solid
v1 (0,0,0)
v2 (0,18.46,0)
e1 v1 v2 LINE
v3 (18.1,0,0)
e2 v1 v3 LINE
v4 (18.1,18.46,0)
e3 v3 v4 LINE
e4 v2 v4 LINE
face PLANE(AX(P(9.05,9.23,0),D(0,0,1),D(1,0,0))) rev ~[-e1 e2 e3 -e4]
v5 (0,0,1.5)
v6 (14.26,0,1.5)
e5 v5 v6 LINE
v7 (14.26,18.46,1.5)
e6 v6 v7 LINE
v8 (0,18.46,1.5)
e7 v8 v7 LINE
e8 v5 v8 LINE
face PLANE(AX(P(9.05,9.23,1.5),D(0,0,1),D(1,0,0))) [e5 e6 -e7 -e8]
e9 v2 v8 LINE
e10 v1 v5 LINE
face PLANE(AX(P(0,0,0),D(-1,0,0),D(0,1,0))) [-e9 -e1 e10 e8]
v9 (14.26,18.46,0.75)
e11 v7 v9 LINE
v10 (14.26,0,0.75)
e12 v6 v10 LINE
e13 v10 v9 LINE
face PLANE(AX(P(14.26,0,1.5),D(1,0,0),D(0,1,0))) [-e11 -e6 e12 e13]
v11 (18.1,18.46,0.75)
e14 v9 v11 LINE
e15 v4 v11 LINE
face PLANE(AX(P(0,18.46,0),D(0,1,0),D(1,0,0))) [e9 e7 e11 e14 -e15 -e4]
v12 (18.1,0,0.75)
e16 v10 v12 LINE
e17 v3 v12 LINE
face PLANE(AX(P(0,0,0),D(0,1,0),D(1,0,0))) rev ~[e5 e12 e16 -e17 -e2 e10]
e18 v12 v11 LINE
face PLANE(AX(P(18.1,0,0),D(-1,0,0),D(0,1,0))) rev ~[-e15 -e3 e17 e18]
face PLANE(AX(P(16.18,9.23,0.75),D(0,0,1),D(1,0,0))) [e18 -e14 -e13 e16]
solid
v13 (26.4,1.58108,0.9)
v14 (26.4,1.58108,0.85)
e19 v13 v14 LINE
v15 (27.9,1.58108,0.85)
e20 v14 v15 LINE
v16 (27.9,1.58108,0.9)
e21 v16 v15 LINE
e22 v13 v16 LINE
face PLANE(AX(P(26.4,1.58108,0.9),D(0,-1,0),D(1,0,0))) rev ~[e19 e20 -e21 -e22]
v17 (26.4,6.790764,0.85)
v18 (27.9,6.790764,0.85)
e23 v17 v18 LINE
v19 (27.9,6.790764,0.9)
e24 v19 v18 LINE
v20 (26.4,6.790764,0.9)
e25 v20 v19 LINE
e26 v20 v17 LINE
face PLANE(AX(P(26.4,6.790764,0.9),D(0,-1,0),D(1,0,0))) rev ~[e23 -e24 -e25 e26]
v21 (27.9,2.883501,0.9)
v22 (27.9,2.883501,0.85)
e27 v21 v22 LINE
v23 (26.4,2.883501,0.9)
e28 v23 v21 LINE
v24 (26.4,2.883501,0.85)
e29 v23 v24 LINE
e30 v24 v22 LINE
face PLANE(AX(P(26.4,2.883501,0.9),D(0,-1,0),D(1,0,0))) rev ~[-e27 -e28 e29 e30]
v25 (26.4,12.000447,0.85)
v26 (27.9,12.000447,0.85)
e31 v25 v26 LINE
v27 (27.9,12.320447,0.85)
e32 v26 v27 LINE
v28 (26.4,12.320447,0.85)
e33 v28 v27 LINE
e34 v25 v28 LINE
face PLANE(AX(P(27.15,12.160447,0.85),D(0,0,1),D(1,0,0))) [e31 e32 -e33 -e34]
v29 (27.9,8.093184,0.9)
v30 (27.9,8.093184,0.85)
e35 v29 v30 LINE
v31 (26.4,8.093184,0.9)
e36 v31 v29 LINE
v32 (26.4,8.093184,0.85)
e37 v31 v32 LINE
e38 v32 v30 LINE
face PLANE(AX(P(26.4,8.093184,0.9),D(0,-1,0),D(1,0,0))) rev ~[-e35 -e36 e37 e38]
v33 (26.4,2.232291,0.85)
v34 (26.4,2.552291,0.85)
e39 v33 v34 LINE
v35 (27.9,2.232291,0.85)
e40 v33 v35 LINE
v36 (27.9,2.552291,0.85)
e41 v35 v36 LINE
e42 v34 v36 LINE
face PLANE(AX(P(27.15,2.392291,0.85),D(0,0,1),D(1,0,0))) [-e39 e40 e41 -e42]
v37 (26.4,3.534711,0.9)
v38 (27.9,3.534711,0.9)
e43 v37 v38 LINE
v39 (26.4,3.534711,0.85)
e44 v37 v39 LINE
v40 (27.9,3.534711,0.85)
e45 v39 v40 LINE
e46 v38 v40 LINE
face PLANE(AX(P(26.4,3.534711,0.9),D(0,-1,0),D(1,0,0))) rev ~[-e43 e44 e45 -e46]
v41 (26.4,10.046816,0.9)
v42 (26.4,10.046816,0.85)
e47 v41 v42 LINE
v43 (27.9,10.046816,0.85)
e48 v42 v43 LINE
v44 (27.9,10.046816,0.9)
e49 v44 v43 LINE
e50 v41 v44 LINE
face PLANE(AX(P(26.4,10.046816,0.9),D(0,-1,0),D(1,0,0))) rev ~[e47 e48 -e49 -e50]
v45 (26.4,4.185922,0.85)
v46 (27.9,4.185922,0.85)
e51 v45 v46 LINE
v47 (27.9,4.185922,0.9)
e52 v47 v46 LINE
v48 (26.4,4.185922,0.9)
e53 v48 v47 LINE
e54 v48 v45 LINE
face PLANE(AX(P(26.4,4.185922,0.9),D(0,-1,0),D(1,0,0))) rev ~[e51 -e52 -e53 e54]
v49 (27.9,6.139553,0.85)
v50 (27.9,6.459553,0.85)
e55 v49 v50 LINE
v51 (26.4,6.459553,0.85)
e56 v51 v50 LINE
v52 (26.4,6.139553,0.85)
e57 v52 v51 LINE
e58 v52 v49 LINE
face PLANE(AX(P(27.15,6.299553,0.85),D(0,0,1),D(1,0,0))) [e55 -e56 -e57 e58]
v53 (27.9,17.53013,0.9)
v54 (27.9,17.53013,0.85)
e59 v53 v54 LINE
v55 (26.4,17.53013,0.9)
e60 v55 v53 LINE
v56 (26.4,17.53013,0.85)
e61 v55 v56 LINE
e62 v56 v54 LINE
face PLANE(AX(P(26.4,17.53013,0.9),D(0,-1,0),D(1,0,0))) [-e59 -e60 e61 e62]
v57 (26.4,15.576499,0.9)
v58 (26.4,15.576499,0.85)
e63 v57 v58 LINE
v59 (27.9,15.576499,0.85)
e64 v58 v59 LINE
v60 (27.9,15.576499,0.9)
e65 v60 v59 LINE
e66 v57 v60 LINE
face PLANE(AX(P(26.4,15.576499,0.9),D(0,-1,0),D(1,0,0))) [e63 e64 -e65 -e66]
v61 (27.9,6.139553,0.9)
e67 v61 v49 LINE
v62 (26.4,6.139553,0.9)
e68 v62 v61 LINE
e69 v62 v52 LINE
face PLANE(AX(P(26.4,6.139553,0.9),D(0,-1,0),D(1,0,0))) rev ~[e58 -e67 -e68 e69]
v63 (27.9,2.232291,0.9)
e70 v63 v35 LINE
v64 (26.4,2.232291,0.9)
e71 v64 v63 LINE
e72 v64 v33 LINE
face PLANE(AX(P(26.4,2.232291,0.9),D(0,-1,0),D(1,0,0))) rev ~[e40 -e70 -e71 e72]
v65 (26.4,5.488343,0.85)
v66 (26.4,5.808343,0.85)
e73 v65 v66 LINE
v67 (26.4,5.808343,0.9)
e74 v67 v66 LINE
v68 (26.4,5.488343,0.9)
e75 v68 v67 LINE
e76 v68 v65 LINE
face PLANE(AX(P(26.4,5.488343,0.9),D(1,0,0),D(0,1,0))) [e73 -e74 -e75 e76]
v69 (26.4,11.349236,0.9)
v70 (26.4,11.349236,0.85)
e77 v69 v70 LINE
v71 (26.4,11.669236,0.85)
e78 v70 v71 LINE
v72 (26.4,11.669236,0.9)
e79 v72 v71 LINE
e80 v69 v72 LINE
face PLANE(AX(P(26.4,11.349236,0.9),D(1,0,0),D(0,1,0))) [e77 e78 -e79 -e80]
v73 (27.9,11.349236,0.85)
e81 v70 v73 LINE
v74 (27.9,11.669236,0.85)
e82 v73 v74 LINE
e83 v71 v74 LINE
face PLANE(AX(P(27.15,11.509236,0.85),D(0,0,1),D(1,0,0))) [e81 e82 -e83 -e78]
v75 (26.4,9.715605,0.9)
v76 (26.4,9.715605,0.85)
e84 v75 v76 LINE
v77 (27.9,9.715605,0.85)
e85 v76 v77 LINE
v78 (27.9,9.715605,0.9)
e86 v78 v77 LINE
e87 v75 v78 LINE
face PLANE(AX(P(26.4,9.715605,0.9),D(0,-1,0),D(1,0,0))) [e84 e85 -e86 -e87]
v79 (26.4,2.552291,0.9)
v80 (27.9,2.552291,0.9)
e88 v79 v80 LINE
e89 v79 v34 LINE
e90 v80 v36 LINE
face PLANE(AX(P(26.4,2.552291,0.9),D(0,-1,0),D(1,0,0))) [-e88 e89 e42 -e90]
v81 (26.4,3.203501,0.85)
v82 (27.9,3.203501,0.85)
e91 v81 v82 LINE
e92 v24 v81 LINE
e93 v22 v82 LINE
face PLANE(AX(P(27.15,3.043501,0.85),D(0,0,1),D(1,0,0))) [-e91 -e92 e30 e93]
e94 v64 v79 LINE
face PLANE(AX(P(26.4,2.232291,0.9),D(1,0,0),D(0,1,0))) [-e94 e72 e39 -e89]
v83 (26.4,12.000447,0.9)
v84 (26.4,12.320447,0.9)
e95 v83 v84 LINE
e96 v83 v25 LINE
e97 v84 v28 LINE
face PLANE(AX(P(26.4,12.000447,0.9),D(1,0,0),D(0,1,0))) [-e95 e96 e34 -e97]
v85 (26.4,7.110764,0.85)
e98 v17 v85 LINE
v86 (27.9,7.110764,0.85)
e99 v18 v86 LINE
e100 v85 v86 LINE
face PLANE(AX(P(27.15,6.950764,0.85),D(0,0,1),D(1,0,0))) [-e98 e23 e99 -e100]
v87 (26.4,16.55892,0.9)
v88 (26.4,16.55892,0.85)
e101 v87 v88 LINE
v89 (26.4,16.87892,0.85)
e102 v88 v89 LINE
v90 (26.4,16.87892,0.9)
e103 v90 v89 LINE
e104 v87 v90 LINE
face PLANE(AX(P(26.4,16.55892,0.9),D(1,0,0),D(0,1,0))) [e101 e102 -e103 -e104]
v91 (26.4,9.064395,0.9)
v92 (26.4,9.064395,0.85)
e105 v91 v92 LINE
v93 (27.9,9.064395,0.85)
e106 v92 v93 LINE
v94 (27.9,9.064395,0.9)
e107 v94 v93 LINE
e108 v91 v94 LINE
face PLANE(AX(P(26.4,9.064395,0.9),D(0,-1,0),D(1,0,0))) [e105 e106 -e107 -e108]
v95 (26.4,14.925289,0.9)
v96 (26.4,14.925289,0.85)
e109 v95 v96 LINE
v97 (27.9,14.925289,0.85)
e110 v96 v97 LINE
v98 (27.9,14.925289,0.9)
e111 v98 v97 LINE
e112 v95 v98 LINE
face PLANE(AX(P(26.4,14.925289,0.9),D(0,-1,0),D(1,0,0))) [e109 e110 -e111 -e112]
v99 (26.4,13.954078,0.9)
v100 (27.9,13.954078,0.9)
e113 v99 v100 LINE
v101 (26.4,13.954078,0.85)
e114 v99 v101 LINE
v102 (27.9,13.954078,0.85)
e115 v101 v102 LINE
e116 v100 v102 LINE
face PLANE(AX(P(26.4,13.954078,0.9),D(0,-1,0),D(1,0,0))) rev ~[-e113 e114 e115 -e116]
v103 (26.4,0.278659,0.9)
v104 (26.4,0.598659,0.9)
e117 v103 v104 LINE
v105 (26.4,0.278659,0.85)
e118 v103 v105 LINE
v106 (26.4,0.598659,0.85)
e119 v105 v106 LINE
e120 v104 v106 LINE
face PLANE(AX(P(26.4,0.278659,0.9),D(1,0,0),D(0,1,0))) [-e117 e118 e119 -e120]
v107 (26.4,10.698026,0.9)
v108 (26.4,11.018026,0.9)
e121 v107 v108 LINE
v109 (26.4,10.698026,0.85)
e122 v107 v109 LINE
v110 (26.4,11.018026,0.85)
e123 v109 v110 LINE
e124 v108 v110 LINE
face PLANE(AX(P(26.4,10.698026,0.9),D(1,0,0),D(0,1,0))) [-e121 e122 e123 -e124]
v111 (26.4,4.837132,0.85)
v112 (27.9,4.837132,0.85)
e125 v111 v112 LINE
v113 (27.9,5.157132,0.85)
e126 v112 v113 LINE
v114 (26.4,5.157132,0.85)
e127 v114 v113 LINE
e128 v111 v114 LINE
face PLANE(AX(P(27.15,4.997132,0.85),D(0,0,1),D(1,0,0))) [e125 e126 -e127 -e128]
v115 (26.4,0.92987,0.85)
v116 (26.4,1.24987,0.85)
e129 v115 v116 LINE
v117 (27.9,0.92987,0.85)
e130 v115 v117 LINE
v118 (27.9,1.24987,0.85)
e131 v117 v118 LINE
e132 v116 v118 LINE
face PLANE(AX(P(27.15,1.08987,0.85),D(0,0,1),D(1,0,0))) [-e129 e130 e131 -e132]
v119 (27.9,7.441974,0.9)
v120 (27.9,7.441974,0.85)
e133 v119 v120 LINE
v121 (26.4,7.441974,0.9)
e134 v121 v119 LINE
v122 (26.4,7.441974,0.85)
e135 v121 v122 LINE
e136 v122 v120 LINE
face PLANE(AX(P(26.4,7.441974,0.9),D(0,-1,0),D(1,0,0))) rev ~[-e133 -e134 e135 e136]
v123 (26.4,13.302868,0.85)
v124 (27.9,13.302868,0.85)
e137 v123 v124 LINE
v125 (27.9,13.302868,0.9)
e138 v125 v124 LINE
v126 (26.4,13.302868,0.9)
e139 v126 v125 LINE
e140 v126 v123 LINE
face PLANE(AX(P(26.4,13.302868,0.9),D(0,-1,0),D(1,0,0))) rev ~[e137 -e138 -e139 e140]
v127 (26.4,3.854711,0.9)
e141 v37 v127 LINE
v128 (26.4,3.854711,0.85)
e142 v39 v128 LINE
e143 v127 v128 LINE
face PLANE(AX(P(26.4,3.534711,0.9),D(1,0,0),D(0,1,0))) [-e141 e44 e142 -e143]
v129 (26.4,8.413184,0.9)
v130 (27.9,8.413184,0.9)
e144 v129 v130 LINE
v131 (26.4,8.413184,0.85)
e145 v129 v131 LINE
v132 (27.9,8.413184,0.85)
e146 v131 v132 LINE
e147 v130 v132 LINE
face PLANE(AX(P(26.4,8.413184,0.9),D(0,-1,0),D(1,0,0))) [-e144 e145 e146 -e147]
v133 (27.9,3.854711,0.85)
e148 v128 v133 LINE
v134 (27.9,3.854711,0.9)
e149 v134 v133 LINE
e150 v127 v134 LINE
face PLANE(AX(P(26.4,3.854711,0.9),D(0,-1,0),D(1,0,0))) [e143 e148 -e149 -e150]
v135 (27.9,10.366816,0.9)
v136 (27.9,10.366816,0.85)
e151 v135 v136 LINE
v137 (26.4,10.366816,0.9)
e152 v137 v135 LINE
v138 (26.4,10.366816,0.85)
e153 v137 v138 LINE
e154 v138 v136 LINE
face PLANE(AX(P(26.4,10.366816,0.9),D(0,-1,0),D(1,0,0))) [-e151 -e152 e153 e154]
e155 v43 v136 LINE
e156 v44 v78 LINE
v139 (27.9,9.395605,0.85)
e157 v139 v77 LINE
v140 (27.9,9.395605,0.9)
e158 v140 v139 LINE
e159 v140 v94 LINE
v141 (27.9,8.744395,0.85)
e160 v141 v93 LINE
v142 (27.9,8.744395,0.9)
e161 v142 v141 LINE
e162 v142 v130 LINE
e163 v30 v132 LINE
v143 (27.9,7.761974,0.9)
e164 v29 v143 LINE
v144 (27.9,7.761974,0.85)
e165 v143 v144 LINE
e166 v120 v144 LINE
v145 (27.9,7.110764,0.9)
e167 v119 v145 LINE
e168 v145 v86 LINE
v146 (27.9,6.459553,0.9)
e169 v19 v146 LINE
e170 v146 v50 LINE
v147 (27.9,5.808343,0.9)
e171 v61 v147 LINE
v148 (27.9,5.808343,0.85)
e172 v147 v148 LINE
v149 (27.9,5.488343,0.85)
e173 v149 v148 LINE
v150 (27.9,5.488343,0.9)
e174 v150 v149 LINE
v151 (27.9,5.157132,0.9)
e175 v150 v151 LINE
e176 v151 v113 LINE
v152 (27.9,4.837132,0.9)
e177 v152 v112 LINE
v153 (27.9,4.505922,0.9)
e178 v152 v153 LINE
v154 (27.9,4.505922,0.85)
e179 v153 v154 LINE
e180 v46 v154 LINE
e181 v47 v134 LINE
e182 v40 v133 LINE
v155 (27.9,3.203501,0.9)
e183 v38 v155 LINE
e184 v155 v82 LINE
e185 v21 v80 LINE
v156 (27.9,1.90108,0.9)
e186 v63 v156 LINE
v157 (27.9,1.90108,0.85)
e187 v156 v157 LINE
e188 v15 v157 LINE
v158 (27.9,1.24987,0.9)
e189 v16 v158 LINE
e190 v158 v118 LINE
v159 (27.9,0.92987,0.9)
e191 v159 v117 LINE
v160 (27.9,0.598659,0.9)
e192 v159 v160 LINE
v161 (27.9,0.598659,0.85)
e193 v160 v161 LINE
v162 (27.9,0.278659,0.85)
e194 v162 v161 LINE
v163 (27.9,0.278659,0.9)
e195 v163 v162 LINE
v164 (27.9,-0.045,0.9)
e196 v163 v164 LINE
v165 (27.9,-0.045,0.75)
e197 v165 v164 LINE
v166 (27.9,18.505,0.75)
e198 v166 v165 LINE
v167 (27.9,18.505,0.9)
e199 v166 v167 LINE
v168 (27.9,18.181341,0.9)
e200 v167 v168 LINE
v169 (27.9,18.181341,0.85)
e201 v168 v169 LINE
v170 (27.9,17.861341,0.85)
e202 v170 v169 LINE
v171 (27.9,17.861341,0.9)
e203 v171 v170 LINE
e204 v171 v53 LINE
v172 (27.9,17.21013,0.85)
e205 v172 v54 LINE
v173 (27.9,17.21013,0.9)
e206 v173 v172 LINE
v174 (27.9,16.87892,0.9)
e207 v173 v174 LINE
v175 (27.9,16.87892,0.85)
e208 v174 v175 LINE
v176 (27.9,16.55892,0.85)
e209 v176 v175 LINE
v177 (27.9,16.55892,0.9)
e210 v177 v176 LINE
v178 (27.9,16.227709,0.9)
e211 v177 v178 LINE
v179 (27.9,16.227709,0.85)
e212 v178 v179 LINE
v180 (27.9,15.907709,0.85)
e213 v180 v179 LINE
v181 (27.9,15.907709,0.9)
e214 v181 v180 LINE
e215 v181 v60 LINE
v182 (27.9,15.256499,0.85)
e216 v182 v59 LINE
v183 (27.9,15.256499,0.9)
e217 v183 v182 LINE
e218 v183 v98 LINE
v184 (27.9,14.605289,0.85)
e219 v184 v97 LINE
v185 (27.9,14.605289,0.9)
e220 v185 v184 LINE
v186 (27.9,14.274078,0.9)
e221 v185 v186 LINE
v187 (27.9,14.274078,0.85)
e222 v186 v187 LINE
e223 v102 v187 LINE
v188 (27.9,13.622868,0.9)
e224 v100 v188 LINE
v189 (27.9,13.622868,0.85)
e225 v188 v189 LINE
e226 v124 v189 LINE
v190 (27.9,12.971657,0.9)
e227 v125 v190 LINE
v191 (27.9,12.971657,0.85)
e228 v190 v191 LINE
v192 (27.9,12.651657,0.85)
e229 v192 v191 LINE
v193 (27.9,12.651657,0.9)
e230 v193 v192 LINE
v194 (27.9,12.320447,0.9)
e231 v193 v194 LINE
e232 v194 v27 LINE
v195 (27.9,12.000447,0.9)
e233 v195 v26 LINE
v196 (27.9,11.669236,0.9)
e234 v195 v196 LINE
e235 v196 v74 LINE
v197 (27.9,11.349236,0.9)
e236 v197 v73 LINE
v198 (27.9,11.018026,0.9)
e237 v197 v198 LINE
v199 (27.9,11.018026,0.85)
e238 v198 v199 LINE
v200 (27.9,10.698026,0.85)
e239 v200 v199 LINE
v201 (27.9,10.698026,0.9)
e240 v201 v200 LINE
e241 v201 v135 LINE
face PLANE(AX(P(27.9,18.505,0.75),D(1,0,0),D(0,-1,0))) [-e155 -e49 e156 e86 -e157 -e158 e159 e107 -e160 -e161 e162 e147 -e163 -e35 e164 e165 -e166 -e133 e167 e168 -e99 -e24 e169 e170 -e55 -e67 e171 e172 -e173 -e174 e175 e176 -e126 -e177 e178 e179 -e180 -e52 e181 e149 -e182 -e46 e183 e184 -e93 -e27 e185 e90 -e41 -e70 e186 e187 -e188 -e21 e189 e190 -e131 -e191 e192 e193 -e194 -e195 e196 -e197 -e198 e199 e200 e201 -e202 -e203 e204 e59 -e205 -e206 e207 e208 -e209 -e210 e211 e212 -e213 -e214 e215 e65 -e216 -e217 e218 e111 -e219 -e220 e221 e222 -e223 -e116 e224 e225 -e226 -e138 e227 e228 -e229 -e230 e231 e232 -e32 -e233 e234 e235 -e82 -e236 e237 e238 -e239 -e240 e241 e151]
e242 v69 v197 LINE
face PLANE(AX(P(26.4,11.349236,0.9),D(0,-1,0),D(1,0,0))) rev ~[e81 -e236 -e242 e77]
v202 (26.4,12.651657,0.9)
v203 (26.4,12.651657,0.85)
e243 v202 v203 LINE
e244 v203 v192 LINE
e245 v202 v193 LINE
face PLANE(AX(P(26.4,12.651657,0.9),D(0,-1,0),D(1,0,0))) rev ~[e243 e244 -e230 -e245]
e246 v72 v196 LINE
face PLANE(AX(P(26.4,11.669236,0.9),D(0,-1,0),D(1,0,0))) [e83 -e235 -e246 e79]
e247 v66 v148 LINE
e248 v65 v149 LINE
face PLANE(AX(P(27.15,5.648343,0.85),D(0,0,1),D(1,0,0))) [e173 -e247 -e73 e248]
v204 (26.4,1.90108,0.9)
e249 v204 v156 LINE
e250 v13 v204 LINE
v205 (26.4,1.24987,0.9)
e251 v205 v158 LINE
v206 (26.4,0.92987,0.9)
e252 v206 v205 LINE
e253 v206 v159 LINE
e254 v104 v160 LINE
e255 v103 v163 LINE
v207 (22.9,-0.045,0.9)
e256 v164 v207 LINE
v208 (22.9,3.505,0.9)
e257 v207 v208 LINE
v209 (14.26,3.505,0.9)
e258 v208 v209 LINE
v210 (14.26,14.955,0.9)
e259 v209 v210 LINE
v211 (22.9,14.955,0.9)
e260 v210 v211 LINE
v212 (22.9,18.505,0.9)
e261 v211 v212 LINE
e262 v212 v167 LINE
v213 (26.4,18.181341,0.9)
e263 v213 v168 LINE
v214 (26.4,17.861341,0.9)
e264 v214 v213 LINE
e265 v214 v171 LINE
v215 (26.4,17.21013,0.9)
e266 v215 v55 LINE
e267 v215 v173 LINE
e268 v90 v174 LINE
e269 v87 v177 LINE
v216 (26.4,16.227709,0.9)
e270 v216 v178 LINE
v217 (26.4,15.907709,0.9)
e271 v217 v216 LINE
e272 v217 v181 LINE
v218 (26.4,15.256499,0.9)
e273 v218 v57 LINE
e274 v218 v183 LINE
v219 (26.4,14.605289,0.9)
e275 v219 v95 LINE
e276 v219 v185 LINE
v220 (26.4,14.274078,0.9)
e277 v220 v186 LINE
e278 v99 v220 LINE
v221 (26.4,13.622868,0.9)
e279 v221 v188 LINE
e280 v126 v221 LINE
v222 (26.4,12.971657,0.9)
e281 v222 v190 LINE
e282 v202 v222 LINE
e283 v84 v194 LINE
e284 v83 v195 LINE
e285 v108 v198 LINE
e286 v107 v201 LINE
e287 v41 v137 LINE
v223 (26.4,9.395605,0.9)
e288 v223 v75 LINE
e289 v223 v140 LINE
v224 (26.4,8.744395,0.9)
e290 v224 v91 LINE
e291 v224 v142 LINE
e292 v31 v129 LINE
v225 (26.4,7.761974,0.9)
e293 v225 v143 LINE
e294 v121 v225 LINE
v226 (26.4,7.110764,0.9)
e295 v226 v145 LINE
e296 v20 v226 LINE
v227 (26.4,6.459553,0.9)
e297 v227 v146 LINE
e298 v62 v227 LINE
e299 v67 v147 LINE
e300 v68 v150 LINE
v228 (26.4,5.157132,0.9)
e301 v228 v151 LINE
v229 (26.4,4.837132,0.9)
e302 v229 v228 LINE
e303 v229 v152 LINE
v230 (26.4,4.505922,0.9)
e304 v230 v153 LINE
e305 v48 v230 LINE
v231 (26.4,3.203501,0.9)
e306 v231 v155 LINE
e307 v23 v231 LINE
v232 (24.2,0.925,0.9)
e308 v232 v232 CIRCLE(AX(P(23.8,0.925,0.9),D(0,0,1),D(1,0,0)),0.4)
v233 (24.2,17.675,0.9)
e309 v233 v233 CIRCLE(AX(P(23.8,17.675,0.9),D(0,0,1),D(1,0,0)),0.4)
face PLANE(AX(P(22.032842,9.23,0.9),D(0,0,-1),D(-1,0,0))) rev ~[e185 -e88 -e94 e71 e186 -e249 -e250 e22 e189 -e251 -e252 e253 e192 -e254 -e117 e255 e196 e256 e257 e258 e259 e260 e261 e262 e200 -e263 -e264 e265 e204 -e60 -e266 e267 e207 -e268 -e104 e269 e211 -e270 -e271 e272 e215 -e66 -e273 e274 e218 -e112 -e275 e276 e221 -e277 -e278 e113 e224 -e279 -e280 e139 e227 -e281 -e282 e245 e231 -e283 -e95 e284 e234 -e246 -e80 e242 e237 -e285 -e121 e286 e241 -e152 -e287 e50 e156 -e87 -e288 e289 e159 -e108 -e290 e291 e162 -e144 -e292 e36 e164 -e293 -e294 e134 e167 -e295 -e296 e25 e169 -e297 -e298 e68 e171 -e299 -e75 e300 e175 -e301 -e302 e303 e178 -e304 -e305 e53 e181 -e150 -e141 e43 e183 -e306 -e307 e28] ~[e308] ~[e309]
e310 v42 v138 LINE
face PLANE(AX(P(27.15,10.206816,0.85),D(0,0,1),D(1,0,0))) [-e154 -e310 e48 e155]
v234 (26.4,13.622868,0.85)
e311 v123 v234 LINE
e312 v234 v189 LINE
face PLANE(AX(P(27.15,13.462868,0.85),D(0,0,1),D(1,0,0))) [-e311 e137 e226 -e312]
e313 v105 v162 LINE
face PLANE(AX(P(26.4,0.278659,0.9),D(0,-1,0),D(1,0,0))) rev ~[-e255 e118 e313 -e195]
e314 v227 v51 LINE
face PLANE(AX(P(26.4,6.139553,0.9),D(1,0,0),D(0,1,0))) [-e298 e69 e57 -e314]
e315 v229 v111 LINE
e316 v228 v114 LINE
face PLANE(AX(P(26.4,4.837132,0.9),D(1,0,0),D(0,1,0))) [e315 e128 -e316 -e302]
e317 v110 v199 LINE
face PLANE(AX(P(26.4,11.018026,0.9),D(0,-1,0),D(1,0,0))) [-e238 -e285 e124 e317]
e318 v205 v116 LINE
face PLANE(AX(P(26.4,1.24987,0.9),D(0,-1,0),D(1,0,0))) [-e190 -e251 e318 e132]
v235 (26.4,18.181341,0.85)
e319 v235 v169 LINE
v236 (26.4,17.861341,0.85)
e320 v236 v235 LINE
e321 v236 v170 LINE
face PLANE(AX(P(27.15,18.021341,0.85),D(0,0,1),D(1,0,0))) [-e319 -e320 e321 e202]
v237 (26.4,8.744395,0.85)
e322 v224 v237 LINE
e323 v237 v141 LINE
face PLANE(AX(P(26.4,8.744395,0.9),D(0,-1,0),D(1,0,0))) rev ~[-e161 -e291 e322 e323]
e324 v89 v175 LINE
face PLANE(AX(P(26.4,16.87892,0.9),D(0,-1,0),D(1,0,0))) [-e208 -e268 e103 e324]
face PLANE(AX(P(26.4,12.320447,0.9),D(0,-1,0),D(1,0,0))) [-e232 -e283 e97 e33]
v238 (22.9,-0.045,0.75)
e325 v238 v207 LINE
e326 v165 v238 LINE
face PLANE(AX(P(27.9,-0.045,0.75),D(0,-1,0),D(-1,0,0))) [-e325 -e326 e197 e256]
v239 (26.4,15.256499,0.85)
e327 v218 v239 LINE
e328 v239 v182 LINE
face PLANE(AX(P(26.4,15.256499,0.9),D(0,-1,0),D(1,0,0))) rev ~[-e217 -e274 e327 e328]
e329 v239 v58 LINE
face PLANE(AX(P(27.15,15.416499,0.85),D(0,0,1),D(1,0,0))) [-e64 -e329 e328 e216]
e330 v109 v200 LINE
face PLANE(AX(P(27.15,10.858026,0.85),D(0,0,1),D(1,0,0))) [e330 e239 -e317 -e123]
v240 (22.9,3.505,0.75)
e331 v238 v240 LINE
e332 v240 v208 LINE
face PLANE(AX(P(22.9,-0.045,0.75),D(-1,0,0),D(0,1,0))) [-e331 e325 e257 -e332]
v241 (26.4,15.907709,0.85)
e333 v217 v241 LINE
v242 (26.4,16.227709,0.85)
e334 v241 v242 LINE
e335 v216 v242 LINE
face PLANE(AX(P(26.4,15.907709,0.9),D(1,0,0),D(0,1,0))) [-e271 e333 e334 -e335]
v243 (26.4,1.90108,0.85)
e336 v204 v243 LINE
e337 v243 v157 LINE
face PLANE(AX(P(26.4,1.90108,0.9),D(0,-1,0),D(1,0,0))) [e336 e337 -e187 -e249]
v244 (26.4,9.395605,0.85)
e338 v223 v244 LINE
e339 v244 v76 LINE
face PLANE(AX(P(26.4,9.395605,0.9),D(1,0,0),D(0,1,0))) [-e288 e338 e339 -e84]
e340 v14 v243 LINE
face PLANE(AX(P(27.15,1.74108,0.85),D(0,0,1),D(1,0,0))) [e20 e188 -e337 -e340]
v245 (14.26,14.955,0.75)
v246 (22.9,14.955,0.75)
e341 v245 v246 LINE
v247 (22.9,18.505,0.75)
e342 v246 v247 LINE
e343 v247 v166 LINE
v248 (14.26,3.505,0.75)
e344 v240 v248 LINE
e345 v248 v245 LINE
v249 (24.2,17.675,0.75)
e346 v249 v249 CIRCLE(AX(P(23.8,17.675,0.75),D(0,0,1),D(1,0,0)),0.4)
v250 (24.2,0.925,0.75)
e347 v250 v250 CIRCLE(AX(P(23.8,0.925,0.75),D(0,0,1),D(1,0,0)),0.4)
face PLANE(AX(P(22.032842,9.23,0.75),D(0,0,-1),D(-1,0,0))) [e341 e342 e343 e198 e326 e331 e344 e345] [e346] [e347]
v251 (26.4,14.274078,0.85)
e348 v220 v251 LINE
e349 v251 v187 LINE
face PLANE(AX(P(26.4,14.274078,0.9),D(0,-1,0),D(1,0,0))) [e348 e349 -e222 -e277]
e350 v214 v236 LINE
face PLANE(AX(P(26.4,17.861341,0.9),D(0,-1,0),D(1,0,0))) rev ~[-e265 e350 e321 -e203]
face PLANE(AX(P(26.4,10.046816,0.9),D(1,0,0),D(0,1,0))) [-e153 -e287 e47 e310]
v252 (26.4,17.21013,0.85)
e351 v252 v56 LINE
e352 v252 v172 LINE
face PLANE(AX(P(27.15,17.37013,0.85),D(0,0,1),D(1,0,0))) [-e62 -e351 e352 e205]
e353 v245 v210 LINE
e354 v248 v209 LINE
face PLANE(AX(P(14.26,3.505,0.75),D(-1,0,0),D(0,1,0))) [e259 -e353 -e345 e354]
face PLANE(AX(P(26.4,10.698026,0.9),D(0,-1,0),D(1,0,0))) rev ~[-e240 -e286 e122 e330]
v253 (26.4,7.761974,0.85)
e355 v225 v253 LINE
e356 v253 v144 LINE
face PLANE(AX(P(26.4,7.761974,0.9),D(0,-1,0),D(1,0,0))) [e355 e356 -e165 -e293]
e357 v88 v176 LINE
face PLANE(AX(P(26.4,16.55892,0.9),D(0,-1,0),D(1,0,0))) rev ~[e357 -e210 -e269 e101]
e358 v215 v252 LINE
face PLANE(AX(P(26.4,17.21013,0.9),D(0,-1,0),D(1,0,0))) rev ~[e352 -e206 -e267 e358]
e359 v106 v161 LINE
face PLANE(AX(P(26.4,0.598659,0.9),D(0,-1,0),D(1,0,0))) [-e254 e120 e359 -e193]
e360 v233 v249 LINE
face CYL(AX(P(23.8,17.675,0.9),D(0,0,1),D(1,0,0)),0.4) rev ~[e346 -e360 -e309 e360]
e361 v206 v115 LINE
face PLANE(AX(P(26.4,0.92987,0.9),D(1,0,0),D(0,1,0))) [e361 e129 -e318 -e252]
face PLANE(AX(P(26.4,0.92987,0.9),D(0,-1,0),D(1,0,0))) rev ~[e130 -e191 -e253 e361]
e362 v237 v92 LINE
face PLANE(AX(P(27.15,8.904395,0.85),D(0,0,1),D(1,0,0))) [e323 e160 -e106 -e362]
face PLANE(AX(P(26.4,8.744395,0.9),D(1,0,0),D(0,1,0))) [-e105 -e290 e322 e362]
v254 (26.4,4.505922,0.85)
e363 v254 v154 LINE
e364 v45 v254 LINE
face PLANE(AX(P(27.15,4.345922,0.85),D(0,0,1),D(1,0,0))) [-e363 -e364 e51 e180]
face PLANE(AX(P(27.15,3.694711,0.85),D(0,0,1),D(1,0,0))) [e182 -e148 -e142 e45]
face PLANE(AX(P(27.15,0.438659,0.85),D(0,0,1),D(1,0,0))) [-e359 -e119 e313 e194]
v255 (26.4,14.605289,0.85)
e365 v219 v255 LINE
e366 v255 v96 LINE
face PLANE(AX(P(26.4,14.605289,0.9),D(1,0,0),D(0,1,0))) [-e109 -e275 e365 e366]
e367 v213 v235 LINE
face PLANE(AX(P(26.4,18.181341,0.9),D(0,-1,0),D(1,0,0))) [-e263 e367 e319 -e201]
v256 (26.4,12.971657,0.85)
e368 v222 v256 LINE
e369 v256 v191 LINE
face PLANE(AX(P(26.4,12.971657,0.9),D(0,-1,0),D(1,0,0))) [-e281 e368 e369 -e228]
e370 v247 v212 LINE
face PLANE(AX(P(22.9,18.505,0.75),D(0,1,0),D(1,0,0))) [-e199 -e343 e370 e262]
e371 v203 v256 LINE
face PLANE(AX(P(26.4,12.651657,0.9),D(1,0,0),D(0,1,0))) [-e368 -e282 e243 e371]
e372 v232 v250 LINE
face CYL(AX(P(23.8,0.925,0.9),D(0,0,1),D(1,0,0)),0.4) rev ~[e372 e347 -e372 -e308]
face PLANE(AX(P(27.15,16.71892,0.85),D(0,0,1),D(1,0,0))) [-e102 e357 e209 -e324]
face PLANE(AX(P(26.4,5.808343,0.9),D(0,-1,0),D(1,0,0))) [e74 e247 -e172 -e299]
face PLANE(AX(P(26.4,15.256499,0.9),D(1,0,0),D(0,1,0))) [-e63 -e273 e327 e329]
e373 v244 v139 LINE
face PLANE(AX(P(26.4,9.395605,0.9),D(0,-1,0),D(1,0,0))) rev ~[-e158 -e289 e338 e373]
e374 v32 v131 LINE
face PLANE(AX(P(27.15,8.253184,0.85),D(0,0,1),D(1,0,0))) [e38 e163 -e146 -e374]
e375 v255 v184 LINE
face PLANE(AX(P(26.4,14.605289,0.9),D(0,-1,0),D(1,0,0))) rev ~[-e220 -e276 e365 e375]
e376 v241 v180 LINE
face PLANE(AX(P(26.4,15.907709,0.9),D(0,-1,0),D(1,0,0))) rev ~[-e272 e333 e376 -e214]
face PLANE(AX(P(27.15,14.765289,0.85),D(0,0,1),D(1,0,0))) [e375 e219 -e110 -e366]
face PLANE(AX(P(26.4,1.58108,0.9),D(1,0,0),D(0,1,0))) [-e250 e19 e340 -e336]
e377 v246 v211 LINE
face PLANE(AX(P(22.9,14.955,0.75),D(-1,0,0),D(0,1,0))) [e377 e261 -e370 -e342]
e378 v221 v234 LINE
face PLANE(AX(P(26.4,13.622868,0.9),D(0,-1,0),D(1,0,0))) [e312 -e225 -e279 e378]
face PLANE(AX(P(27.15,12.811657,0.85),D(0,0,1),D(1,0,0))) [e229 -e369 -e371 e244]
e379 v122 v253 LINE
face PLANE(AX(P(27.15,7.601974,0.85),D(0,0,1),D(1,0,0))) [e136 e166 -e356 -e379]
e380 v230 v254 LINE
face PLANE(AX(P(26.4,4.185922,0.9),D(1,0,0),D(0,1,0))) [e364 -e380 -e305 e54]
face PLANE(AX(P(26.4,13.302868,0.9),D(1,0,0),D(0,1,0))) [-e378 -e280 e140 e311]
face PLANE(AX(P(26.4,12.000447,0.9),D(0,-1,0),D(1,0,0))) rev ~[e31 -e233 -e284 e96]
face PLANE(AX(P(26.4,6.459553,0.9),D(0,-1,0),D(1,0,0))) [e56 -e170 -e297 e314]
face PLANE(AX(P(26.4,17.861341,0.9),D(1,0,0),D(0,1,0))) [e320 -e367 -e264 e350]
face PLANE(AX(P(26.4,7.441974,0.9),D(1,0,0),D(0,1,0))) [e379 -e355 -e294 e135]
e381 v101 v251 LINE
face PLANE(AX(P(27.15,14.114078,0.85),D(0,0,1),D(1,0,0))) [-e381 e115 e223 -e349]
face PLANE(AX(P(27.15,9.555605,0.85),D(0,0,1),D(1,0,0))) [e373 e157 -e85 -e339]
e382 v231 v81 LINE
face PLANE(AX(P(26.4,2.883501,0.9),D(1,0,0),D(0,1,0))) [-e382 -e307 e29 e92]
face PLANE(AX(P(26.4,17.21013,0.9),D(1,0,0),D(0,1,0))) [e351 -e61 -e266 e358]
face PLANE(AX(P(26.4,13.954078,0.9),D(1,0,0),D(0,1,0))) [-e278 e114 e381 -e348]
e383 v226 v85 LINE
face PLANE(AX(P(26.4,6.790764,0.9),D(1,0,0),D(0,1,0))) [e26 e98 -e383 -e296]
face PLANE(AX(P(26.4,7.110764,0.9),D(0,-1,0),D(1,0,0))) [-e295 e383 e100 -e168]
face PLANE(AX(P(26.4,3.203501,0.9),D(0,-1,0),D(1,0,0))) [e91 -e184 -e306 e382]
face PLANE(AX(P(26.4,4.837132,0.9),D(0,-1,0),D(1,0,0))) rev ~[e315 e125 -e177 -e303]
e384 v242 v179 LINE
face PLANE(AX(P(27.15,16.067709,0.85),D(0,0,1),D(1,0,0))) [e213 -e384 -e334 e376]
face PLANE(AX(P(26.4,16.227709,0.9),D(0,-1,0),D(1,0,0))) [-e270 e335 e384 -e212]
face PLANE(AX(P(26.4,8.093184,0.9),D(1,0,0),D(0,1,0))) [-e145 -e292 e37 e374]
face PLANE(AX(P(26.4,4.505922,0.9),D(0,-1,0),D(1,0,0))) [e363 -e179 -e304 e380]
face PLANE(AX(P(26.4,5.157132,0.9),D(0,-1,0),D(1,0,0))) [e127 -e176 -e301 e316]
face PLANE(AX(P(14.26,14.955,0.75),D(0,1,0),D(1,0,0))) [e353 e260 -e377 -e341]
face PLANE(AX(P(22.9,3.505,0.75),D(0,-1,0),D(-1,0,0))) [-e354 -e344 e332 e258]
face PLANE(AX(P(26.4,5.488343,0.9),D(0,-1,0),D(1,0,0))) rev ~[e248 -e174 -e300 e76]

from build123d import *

# Parameters (mm, degrees)
SKETCH1_W           = 18.1
SKETCH1_H           = 18.46
BOSS_EXTRUDE1_DEPTH = 1.5
SKETCH2_W           = 3.84
SKETCH2_H           = 18.46
CUT_EXTRUDE1_DEPTH  = 0.75
BOSS_EXTRUDE2_DEPTH = 0.15
SKETCH4_R           = 0.4
CUT_EXTRUDE2_DEPTH  = 0.15
SKETCH5_W           = 1.5
SKETCH5_H           = 0.32
CUT_EXTRUDE6_DEPTH  = 0.05


with BuildPart() as part:
    # Sketch1 → Boss-Extrude1 (new body)
    with BuildSketch(Plane.XY):
        with Locations((9.05, 9.23)):
            Rectangle(SKETCH1_W, SKETCH1_H)
    extrude(amount=BOSS_EXTRUDE1_DEPTH)

    # Sketch2 → Cut-Extrude1 (cut)
    with BuildSketch(Plane.XY.offset(1.5)):
        with Locations((16.18, 9.23)):
            Rectangle(SKETCH2_W, SKETCH2_H)
    extrude(amount=-CUT_EXTRUDE1_DEPTH, mode=Mode.SUBTRACT)


with BuildPart() as body_2:
    # Sketch3 → Boss-Extrude2 (new body)
    with BuildSketch(Plane.XY.offset(0.75)):
        Polygon((22.9, 18.505), (27.9, 18.505), (27.9, -0.045), (22.9, -0.045), (22.9, 3.505), (14.26, 3.505), (14.26, 14.955), (22.9, 14.955), align=None)
    extrude(amount=BOSS_EXTRUDE2_DEPTH)

    # Sketch4 → Cut-Extrude2 (cut)
    with BuildSketch(Plane.XY.offset(0.9)):
        with Locations((23.8, 17.675)):
            Circle(SKETCH4_R)
        with Locations((23.8, 0.925)):
            Circle(SKETCH4_R)
    extrude(amount=-CUT_EXTRUDE2_DEPTH, mode=Mode.SUBTRACT)

    # Sketch5 → Cut-Extrude6 (cut)
    with BuildSketch(Plane.XY.offset(0.9)):
        with Locations((27.15, 0.438659377)):
            Rectangle(SKETCH5_W, SKETCH5_H)
        with Locations((27.15, 1.089869794)):
            Rectangle(SKETCH5_W, SKETCH5_H)
        with Locations((27.15, 1.74108021)):
            Rectangle(SKETCH5_W, SKETCH5_H)
        with Locations((27.15, 2.392290627)):
            Rectangle(SKETCH5_W, SKETCH5_H)
        with Locations((27.15, 3.043501043)):
            Rectangle(SKETCH5_W, SKETCH5_H)
        with Locations((27.15, 3.69471146)):
            Rectangle(SKETCH5_W, SKETCH5_H)
        with Locations((27.15, 4.345921876)):
            Rectangle(SKETCH5_W, SKETCH5_H)
        with Locations((27.15, 4.997132293)):
            Rectangle(SKETCH5_W, SKETCH5_H)
        with Locations((27.15, 5.648342709)):
            Rectangle(SKETCH5_W, SKETCH5_H)
        with Locations((27.15, 6.299553126)):
            Rectangle(SKETCH5_W, SKETCH5_H)
        with Locations((27.15, 6.950763542)):
            Rectangle(SKETCH5_W, SKETCH5_H)
        with Locations((27.15, 7.601973959)):
            Rectangle(SKETCH5_W, SKETCH5_H)
        with Locations((27.15, 8.253184375)):
            Rectangle(SKETCH5_W, SKETCH5_H)
        with Locations((27.15, 8.904394792)):
            Rectangle(SKETCH5_W, SKETCH5_H)
        with Locations((27.15, 9.555605208)):
            Rectangle(SKETCH5_W, SKETCH5_H)
        with Locations((27.15, 10.206815625)):
            Rectangle(SKETCH5_W, SKETCH5_H)
        with Locations((27.15, 10.858026041)):
            Rectangle(SKETCH5_W, SKETCH5_H)
        with Locations((27.15, 11.509236458)):
            Rectangle(SKETCH5_W, SKETCH5_H)
        with Locations((27.15, 12.160446874)):
            Rectangle(SKETCH5_W, SKETCH5_H)
        with Locations((27.15, 12.811657291)):
            Rectangle(SKETCH5_W, SKETCH5_H)
        with Locations((27.15, 13.462867707)):
            Rectangle(SKETCH5_W, SKETCH5_H)
        with Locations((27.15, 14.114078124)):
            Rectangle(SKETCH5_W, SKETCH5_H)
        with Locations((27.15, 14.76528854)):
            Rectangle(SKETCH5_W, SKETCH5_H)
        with Locations((27.15, 15.416498957)):
            Rectangle(SKETCH5_W, SKETCH5_H)
        with Locations((27.15, 16.067709373)):
            Rectangle(SKETCH5_W, SKETCH5_H)
        with Locations((27.15, 16.71891979)):
            Rectangle(SKETCH5_W, SKETCH5_H)
        with Locations((27.15, 17.370130206)):
            Rectangle(SKETCH5_W, SKETCH5_H)
        with Locations((27.15, 18.021340623)):
            Rectangle(SKETCH5_W, SKETCH5_H)
    extrude(amount=-CUT_EXTRUDE6_DEPTH, mode=Mode.SUBTRACT)


solid = Compound([part.part, body_2.part])
